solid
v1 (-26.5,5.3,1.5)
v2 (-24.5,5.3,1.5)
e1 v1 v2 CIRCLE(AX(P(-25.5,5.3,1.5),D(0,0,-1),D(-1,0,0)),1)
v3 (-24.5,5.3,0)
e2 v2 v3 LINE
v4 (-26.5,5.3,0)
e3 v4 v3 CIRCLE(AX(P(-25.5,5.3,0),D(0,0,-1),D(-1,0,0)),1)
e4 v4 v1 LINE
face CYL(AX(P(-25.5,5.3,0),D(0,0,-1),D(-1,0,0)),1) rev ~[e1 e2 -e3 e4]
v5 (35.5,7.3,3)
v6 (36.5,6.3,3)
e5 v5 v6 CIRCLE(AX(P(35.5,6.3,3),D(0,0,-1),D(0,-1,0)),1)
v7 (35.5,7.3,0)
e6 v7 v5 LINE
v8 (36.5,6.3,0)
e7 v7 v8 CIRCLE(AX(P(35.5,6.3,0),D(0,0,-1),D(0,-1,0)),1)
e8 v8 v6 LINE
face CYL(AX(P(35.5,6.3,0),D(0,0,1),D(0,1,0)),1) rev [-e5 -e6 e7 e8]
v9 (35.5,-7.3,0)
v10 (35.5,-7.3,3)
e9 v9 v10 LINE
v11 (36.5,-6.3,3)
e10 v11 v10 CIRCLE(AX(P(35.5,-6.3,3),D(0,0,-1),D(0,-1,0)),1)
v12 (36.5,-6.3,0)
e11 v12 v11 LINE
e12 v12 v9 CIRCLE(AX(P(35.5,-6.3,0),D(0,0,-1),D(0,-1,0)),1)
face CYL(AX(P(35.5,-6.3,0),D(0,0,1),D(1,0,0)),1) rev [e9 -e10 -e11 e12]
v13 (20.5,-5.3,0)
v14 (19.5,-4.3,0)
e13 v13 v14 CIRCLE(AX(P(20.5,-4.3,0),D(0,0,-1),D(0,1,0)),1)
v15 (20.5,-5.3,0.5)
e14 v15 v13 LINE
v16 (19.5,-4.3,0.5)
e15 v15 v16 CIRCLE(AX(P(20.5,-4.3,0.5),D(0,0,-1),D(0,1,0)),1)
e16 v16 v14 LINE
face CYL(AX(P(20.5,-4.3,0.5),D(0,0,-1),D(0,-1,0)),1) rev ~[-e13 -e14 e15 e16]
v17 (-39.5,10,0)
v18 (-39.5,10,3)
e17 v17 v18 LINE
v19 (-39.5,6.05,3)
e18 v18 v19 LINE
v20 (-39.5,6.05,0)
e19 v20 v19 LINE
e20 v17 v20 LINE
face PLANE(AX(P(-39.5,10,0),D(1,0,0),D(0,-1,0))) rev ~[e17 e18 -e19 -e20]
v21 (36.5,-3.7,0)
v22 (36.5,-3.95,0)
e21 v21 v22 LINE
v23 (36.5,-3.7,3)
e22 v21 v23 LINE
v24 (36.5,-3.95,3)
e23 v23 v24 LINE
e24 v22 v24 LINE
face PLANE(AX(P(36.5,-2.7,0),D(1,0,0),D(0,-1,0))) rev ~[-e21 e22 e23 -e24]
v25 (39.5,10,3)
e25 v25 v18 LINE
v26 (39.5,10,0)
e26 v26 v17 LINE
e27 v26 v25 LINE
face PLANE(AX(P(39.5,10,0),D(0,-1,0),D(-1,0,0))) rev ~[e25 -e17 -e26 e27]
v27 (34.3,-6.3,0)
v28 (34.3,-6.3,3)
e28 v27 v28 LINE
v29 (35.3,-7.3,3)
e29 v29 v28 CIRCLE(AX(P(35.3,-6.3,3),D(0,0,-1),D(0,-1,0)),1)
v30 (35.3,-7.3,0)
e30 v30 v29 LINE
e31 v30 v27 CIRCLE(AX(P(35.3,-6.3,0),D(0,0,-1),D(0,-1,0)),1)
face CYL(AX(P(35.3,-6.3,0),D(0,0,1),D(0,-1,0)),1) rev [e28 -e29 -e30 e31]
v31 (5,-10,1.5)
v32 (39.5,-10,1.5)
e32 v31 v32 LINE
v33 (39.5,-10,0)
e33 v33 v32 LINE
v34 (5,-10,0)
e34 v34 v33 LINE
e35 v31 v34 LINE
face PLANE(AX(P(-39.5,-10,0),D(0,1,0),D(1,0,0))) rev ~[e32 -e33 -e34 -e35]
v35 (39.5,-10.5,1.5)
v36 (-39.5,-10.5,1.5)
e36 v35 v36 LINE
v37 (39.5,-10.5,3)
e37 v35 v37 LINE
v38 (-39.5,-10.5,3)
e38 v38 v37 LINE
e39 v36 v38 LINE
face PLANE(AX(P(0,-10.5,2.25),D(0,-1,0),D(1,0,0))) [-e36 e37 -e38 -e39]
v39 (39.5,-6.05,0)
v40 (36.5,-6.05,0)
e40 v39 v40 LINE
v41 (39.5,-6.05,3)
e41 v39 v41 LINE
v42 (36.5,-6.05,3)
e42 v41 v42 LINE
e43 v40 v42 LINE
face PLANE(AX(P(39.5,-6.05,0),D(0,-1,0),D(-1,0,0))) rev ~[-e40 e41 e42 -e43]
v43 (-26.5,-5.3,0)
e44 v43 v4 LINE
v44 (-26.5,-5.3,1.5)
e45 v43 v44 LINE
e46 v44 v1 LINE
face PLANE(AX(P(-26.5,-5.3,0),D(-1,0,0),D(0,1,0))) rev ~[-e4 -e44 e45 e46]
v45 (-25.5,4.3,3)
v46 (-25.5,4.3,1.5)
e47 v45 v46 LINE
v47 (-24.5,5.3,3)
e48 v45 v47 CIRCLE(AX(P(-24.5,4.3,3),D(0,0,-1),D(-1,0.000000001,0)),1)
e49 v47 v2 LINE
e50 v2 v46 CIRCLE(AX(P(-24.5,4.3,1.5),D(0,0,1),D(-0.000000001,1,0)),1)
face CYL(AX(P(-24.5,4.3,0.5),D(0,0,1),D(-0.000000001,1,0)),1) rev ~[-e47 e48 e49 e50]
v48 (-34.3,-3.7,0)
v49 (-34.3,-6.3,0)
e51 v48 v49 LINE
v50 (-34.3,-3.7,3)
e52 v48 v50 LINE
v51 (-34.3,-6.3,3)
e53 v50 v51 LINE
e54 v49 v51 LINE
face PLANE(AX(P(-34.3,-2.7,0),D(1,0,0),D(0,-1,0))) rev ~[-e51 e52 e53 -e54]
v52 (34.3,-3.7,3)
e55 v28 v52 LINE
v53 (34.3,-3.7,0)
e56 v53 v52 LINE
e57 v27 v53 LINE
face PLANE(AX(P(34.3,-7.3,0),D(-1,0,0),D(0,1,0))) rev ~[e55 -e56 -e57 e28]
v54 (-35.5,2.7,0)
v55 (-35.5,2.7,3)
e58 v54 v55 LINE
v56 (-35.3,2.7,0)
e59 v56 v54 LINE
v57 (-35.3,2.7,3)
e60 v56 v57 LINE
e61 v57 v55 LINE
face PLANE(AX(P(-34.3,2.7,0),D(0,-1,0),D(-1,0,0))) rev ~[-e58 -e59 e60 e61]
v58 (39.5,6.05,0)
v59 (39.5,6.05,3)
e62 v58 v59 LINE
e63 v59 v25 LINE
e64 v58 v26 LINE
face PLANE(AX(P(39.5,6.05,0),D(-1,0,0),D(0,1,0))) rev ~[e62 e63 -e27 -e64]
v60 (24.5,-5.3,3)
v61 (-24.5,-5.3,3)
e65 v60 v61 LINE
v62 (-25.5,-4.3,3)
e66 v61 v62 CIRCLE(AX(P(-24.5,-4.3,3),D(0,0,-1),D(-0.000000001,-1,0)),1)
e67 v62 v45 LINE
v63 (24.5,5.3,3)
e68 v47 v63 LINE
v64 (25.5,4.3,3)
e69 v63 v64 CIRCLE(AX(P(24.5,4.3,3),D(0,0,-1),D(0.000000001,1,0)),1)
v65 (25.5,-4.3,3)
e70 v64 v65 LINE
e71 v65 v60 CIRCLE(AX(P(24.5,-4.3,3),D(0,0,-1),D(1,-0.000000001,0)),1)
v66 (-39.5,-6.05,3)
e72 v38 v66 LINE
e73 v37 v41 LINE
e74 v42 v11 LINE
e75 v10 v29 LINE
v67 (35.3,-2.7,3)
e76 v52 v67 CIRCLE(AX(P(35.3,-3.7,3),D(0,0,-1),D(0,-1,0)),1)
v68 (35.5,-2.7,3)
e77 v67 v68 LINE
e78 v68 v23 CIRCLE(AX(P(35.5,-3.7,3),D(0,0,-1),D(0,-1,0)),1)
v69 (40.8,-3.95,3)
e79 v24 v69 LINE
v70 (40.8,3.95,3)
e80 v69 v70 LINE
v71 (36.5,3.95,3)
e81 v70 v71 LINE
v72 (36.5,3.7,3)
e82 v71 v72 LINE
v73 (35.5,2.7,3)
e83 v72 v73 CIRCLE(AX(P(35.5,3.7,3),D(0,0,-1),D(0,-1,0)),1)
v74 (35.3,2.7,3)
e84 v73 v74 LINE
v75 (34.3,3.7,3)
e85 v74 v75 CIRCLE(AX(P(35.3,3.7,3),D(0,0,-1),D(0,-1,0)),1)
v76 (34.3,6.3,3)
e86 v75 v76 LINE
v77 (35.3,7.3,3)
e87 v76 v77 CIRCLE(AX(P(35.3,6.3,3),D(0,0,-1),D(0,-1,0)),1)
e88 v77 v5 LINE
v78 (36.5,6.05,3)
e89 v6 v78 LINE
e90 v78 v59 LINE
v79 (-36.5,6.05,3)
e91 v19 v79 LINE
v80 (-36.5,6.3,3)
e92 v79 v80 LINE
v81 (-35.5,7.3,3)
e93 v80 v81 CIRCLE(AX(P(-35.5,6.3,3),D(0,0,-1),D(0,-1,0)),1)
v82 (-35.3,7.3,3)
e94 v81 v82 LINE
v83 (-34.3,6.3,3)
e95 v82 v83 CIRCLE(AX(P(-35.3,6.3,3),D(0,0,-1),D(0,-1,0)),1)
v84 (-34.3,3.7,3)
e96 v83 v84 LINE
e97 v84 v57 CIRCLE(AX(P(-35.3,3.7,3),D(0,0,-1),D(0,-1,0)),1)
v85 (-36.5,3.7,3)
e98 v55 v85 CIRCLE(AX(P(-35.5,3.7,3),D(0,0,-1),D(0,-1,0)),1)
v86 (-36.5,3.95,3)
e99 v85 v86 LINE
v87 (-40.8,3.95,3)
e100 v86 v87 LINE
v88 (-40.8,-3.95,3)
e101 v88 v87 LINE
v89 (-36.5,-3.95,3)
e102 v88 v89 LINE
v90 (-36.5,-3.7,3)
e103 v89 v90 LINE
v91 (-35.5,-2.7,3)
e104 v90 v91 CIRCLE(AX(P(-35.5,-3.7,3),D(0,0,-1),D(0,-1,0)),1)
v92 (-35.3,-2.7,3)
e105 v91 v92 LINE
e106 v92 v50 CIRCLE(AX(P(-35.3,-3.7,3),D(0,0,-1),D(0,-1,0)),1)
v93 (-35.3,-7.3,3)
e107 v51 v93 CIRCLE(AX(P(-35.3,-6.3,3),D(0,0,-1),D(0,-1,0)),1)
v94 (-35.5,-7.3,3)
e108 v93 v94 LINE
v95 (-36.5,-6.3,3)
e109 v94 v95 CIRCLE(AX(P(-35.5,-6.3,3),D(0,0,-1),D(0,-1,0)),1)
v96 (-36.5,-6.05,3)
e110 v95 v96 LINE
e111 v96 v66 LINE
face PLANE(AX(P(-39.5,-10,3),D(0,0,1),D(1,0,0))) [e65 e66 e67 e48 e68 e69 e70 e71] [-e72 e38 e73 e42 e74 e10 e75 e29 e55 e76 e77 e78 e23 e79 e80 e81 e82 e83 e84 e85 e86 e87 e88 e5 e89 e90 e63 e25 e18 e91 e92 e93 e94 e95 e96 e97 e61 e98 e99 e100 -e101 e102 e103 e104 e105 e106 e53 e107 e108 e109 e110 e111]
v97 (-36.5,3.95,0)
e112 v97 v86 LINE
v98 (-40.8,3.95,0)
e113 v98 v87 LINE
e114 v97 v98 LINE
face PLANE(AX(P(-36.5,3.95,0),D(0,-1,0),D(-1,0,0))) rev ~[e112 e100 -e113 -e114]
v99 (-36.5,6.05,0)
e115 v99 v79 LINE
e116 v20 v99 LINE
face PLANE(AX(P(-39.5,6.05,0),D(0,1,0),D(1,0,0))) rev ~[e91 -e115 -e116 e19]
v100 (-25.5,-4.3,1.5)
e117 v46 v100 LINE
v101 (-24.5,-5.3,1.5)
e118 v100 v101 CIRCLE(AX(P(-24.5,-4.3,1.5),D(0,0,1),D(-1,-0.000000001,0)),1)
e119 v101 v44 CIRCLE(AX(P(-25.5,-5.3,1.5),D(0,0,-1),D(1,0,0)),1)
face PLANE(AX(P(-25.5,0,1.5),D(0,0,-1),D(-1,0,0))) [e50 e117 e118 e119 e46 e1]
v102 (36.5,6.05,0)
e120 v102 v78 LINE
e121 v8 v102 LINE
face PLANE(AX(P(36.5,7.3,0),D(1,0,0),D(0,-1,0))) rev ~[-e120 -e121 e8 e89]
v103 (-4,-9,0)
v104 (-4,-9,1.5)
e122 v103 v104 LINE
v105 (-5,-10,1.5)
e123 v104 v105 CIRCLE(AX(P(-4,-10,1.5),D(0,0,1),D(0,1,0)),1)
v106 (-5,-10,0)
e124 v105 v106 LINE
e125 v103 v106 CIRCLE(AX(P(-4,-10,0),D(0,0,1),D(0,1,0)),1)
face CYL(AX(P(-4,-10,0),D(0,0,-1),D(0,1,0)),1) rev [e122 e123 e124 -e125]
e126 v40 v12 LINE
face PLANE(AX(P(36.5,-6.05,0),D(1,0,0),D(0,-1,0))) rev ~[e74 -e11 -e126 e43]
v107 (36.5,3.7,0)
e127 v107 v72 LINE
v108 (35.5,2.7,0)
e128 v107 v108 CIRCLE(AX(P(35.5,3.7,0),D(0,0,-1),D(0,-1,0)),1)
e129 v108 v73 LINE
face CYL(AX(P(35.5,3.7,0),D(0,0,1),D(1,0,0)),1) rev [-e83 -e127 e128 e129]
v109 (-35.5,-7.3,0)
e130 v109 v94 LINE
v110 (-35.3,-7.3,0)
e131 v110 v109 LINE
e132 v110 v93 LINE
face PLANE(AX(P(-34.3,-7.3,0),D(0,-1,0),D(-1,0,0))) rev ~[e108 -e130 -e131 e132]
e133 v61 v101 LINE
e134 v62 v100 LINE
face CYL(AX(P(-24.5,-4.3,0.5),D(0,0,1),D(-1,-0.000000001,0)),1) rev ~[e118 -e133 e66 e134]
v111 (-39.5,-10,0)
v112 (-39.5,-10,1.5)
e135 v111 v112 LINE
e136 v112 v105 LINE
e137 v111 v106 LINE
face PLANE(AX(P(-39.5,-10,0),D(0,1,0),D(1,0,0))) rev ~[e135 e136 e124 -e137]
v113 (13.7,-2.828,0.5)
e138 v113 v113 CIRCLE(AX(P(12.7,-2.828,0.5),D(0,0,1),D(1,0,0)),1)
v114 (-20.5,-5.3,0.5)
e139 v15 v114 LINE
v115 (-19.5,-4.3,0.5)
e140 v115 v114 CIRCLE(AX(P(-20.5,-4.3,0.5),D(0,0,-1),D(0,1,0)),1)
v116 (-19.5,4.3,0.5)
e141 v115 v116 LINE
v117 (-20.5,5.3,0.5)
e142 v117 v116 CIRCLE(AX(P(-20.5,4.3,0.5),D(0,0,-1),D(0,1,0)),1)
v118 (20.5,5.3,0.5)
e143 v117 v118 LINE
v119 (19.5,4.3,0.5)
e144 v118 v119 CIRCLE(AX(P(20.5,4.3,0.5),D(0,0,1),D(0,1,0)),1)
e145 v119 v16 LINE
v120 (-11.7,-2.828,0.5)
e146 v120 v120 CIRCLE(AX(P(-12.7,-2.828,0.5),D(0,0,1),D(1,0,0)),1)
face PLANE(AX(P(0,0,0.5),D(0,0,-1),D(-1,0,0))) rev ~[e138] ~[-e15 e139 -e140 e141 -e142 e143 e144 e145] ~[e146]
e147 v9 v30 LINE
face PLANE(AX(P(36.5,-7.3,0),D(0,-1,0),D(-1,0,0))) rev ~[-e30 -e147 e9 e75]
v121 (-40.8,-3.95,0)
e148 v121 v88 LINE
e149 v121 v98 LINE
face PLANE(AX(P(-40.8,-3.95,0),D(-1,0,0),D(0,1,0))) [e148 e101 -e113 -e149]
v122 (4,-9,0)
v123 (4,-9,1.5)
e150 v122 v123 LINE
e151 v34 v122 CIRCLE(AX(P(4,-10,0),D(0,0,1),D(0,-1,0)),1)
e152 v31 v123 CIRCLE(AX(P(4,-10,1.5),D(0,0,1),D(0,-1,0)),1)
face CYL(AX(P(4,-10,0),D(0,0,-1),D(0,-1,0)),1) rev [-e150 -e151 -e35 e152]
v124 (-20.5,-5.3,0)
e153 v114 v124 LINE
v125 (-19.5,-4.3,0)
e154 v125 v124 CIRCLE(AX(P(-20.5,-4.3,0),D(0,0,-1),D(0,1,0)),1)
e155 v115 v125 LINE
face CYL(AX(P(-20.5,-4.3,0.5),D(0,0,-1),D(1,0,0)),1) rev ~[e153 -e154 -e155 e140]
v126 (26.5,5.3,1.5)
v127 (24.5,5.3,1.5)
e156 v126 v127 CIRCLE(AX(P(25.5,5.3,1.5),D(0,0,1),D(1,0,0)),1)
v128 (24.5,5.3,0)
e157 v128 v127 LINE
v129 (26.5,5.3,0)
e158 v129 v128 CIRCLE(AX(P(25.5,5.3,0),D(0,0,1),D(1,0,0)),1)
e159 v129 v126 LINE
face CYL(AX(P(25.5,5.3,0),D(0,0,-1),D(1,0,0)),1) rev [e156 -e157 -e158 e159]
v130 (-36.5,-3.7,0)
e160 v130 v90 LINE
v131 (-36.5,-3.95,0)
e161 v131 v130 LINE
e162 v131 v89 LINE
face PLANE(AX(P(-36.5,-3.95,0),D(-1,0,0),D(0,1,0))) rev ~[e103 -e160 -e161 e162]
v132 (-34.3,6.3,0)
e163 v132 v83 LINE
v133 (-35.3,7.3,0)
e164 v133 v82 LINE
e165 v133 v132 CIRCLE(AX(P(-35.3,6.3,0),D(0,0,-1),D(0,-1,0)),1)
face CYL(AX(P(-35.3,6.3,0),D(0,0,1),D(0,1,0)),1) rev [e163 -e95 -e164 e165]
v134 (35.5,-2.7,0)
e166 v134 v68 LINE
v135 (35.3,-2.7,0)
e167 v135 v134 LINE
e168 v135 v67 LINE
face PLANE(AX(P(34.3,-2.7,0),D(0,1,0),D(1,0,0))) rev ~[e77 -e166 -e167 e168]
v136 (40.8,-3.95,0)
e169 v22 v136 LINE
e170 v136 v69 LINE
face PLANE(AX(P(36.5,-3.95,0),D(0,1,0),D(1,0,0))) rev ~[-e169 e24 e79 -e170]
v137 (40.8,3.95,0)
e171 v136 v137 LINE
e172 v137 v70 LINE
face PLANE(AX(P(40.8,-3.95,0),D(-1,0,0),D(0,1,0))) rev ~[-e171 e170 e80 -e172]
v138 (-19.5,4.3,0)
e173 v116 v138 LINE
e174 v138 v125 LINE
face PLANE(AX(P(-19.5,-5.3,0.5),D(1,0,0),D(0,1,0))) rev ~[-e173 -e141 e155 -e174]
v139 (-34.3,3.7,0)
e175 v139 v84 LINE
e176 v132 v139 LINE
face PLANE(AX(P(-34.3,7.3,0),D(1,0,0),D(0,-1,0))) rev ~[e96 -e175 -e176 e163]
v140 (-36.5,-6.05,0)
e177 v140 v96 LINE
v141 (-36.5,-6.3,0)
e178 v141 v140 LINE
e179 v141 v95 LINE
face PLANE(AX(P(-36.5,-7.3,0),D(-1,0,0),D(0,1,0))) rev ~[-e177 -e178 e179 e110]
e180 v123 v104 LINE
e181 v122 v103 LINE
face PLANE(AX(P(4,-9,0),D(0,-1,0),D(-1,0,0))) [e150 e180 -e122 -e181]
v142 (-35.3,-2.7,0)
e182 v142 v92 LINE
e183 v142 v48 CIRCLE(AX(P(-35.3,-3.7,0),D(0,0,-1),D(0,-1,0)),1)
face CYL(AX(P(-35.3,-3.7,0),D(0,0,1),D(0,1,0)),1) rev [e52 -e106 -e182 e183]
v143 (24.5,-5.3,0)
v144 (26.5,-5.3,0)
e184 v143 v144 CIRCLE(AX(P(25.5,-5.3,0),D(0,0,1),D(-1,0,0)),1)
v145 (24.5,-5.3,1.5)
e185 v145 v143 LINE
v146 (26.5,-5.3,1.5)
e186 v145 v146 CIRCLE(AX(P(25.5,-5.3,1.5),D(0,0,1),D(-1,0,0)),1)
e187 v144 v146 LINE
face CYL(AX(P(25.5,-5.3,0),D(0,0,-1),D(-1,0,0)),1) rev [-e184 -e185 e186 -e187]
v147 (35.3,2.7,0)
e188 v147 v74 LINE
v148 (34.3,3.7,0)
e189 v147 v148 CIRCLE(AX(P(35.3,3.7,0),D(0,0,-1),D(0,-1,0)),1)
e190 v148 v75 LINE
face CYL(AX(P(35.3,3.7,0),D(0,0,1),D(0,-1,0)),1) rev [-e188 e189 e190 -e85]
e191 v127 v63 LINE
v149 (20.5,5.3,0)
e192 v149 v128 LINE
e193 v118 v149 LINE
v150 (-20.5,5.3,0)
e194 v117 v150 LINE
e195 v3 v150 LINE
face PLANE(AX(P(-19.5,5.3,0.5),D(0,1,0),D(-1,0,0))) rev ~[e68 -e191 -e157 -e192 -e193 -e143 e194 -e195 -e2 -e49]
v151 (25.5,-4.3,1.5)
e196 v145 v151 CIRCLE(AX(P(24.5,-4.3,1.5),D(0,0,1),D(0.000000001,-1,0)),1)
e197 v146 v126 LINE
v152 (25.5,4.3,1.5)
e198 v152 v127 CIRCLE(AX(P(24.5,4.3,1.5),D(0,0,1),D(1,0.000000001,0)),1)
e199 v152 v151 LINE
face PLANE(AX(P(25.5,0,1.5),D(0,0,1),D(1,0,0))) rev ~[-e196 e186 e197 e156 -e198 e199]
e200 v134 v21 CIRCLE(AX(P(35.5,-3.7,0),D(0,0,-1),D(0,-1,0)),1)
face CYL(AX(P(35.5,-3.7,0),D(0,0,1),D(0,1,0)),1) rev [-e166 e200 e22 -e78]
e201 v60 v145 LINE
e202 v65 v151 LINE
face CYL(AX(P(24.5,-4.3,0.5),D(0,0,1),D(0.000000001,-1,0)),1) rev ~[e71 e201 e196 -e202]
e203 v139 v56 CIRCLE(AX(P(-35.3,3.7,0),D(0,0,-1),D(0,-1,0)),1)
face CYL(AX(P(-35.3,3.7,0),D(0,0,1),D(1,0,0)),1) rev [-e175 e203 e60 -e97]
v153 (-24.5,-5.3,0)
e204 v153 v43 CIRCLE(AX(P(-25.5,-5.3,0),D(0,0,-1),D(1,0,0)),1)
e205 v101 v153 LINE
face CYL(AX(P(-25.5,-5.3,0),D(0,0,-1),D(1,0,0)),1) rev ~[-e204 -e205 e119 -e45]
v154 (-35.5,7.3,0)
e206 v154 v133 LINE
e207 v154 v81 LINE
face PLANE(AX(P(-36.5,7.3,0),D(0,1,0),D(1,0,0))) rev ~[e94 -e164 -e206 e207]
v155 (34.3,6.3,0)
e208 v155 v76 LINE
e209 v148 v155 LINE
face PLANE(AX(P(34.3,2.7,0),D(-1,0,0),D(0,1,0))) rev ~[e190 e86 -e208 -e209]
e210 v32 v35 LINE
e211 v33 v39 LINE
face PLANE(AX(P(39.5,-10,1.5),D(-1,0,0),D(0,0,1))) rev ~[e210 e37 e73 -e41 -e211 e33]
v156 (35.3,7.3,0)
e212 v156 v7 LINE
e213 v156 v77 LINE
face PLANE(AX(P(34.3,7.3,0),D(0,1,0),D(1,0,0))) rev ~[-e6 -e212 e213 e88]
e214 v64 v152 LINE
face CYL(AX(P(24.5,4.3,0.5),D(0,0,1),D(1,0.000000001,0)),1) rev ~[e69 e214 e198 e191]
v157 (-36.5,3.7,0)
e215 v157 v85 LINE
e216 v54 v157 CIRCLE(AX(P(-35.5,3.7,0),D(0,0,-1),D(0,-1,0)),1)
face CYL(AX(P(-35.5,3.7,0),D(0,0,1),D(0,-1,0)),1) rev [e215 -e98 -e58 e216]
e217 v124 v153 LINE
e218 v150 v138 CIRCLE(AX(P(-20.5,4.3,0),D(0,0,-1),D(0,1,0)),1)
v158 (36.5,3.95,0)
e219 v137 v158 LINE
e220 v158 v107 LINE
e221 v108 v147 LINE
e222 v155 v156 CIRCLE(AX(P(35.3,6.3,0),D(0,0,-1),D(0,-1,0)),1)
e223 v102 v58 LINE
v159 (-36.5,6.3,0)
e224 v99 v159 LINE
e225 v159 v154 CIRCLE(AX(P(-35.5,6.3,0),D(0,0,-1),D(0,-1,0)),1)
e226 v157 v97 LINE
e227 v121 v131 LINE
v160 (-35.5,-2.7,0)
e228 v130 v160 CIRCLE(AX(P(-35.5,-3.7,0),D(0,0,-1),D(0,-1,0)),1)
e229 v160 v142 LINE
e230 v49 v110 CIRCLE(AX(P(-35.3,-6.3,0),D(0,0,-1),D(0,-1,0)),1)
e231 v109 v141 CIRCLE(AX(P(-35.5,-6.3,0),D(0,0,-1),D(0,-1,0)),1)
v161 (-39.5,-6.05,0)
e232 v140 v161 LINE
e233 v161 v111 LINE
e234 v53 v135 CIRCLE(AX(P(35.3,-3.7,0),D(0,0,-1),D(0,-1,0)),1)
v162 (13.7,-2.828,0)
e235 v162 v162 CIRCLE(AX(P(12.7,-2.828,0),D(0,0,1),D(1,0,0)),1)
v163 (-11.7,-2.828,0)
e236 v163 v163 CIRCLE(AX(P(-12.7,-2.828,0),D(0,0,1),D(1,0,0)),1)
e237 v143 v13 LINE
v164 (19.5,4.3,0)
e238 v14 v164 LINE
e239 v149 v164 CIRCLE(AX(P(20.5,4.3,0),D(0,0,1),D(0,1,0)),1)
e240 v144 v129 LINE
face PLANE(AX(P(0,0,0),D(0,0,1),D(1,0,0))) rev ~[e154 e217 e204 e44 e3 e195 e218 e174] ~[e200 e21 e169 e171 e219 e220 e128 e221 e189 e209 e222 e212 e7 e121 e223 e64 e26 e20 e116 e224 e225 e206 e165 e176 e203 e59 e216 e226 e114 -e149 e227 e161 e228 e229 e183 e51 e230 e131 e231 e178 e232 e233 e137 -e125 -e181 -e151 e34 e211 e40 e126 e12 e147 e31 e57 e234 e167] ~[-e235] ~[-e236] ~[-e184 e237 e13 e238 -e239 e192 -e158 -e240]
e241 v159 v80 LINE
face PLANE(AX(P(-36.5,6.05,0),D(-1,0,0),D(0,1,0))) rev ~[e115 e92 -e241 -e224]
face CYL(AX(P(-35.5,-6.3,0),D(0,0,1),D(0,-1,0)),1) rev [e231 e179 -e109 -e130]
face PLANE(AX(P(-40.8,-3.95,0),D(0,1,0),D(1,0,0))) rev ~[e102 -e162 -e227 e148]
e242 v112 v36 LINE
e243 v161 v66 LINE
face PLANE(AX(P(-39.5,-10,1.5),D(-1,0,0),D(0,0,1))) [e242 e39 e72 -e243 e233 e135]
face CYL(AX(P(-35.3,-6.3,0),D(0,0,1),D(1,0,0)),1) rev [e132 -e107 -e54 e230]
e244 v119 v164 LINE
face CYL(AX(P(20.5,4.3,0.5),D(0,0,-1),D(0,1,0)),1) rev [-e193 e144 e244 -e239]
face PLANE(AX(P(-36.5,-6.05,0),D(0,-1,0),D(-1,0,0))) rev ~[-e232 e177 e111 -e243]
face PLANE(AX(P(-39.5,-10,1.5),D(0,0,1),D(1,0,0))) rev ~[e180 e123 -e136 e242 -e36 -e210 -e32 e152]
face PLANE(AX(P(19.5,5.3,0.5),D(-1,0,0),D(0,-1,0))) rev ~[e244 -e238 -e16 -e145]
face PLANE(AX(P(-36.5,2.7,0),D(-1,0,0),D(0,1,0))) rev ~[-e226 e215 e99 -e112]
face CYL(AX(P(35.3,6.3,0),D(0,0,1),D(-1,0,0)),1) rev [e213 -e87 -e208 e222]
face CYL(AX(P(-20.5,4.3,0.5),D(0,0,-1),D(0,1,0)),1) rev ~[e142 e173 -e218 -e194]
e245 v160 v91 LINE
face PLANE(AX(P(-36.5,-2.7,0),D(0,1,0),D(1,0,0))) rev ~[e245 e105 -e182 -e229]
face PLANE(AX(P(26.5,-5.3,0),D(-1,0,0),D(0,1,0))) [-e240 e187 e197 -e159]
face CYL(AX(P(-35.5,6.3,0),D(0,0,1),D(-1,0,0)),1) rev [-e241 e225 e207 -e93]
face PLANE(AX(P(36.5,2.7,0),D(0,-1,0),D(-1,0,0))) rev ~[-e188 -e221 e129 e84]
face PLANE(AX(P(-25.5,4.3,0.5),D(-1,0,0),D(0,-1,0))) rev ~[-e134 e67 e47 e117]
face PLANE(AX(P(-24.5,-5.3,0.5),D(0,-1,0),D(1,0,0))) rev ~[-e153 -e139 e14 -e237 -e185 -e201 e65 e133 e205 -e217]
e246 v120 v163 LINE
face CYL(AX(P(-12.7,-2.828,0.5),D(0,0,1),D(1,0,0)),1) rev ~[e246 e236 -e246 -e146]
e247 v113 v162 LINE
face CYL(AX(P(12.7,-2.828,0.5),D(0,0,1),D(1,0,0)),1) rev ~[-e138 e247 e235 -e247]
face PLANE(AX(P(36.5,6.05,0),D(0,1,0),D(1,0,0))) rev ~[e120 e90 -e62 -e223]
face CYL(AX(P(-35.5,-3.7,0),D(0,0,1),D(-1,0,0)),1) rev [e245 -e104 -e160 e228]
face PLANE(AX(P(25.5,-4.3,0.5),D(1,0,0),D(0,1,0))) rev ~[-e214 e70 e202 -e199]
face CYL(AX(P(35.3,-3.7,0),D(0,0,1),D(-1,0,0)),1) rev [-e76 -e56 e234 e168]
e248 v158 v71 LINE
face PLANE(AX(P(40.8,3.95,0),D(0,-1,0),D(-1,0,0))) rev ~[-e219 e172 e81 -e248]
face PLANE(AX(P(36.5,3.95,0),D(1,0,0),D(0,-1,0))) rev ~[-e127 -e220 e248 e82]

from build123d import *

# Parameters (mm, degrees)
SKETCH1_W                          = 1.3
SKETCH1_H                          = 7.9
BASE_SHAPE_DEPTH                   = 3
SKETCH4_W                          = 79
SKETCH4_H                          = 1.5
FLOOR_LIP_DEPTH                    = 0.5
NAIL_CUTOUT_DEPTH                  = 1.5
MILL_FILLETS_R                     = 1
LED_STRIP_POCKET_DEPTH             = 2.5
LED_STRIP_CUTS_REACH               = 2.5
SKETCH9_R                          = 1
LED_STRIP_CUT_FILLETS_R            = 1
LED_PCB_PADS_CLEARANCE_SLOTS_DEPTH = 1.5


with BuildPart() as part:
    # Sketch1 → Base shape (new body)
    with BuildSketch(Plane.XY):
        Polygon((39.5, 10), (-39.5, 10), (-39.5, 6.05), (-36.5, 6.05), (-36.5, 7.3), (-34.3, 7.3), (-34.3, 2.7), (-36.5, 2.7), (-36.5, 3.95), (-39.5, 3.95), (-39.5, -3.95), (-36.5, -3.95), (-36.5, -2.7), (-34.3, -2.7), (-34.3, -7.3), (-36.5, -7.3), (-36.5, -6.05), (-39.5, -6.05), (-39.5, -10), (39.5, -10), (39.5, -6.05), (36.5, -6.05), (36.5, -7.3), (34.3, -7.3), (34.3, -2.7), (36.5, -2.7), (36.5, -3.95), (39.5, -3.95), (39.5, 3.95), (36.5, 3.95), (36.5, 2.7), (34.3, 2.7), (34.3, 7.3), (36.5, 7.3), (36.5, 6.05), (39.5, 6.05), align=None)
        with Locations((-40.15, 0)):
            Rectangle(SKETCH1_W, SKETCH1_H)
        with Locations((40.15, 0)):
            Rectangle(SKETCH1_W, SKETCH1_H)
    extrude(amount=BASE_SHAPE_DEPTH)

    # Sketch4 → Floor lip (add)
    with BuildSketch(Plane.XZ.offset(10)):
        with Locations((0, 2.25)):
            Rectangle(SKETCH4_W, SKETCH4_H)
    extrude(amount=FLOOR_LIP_DEPTH)

    # Sketch6 → Nail cutout (cut)
    with BuildSketch(Plane(origin=(0, 0, 0), x_dir=(-1, 0, 0), z_dir=(0, 0, -1))):
        with BuildLine():
            Line((-4, -9), (4, -9))
            ThreePointArc((4, -9), (5, -10), (4, -11))
            Line((4, -11), (-4, -11))
            ThreePointArc((-4, -11), (-5, -10), (-4, -9))
        make_face()
    extrude(amount=-NAIL_CUTOUT_DEPTH, mode=Mode.SUBTRACT)

    # Mill fillets
    mill_fillets_edges = [part.edges().sort_by_distance(p)[0] for p in [
        (36.5, -2.7, 1.5),
        (34.3, -2.7, 1.5),
        (34.3, -7.3, 1.5),
        (36.5, -7.3, 1.5),
        (-36.5, -7.3, 1.5),
        (-34.3, -7.3, 1.5),
        (-34.3, -2.7, 1.5),
        (-36.5, -2.7, 1.5),
        (-36.5, 2.7, 1.5),
        (-34.3, 2.7, 1.5),
        (-34.3, 7.3, 1.5),
        (-36.5, 7.3, 1.5),
        (36.5, 7.3, 1.5),
        (34.3, 7.3, 1.5),
        (34.3, 2.7, 1.5),
        (36.5, 2.7, 1.5),
    ]]
    fillet(mill_fillets_edges, radius=MILL_FILLETS_R)

    # Sketch8 → Led strip pocket (cut)
    with BuildSketch(Plane.XY.offset(3)):
        with BuildLine():
            Line((-24.5, 5.3), (24.5, 5.3))
            ThreePointArc((24.5, 5.3), (25.207106781, 5.007106781), (25.5, 4.3))
            Line((25.5, 4.3), (25.5, -4.3))
            ThreePointArc((25.5, -4.3), (25.207106781, -5.007106781), (24.5, -5.3))
            Line((24.5, -5.3), (-24.5, -5.3))
            ThreePointArc((-24.5, -5.3), (-25.207106781, -5.007106781), (-25.5, -4.3))
            Line((-25.5, -4.3), (-25.5, 4.3))
            ThreePointArc((-25.5, 4.3), (-25.207106781, 5.007106781), (-24.5, 5.3))
        make_face()
    extrude(amount=-LED_STRIP_POCKET_DEPTH, mode=Mode.SUBTRACT)

    # Sketch9 → Led strip cuts (cut, up to next)
    with BuildSketch(Plane.XY.offset(0.5), mode=Mode.PRIVATE) as led_strip_cuts_sk1:
        with BuildLine():
            Line((-19.5, -5.3), (-19.5, 5.3))
            Line((-19.5, 5.3), (-24.5, 5.3))
            ThreePointArc((-24.5, 5.3), (-25.207106781, 5.007106781), (-25.5, 4.3))
            Line((-25.5, 4.3), (-25.5, -4.3))
            ThreePointArc((-25.5, -4.3), (-25.207106781, -5.007106781), (-24.5, -5.3))
            Line((-24.5, -5.3), (-19.5, -5.3))
        make_face()
    led_strip_cuts_tool1 = extrude(led_strip_cuts_sk1.sketch, amount=-LED_STRIP_CUTS_REACH, mode=Mode.PRIVATE) & part.part
    add(led_strip_cuts_tool1.solids().sort_by_distance((-22.481135, 0, 0.5))[0], mode=Mode.SUBTRACT)
    # Sketch9 → Led strip cuts (cut, up to next)
    with BuildSketch(Plane.XY.offset(0.5), mode=Mode.PRIVATE) as led_strip_cuts_sk2:
        with BuildLine():
            Line((24.5, 5.3), (19.5, 5.3))
            Line((19.5, 5.3), (19.5, -5.3))
            Line((19.5, -5.3), (24.5, -5.3))
            ThreePointArc((24.5, -5.3), (25.207106781, -5.007106781), (25.5, -4.3))
            Line((25.5, -4.3), (25.5, 4.3))
            ThreePointArc((25.5, 4.3), (25.207106781, 5.007106781), (24.5, 5.3))
        make_face()
    led_strip_cuts_tool2 = extrude(led_strip_cuts_sk2.sketch, amount=-LED_STRIP_CUTS_REACH, mode=Mode.PRIVATE) & part.part
    add(led_strip_cuts_tool2.solids().sort_by_distance((22.481135, 0, 0.5))[0], mode=Mode.SUBTRACT)
    # Sketch9 → Led strip cuts (cut, up to next)
    with BuildSketch(Plane.XY.offset(0.5), mode=Mode.PRIVATE) as led_strip_cuts_sk3:
        with Locations((-12.7, -2.828)):
            Circle(SKETCH9_R)
    led_strip_cuts_tool3 = extrude(led_strip_cuts_sk3.sketch, amount=-LED_STRIP_CUTS_REACH, mode=Mode.PRIVATE) & part.part
    add(led_strip_cuts_tool3.solids().sort_by_distance((-12.7, -2.828, 0.5))[0], mode=Mode.SUBTRACT)
    # Sketch9 → Led strip cuts (cut, up to next)
    with BuildSketch(Plane.XY.offset(0.5), mode=Mode.PRIVATE) as led_strip_cuts_sk4:
        with Locations((12.7, -2.828)):
            Circle(SKETCH9_R)
    led_strip_cuts_tool4 = extrude(led_strip_cuts_sk4.sketch, amount=-LED_STRIP_CUTS_REACH, mode=Mode.PRIVATE) & part.part
    add(led_strip_cuts_tool4.solids().sort_by_distance((12.7, -2.828, 0.5))[0], mode=Mode.SUBTRACT)

    # Led strip cut fillets
    led_strip_cut_fillets_edges = [part.edges().sort_by_distance(p)[0] for p in [
        (-19.5, 5.3, 0.25),
        (-19.5, -5.3, 0.25),
        (19.5, 5.3, 0.25),
        (19.5, -5.3, 0.25),
    ]]
    fillet(led_strip_cut_fillets_edges, radius=LED_STRIP_CUT_FILLETS_R)

    # Sketch23 → LED PCB pads clearance slots (cut)
    with BuildSketch(Plane(origin=(0, 0, 0), x_dir=(-1, 0, 0), z_dir=(0, 0, -1))):
        with BuildLine():
            Line((-26.5, -5.3), (-26.5, 5.3))
            ThreePointArc((-26.5, 5.3), (-25.5, 6.3), (-24.5, 5.3))
            Line((-24.5, 5.3), (-24.5, -5.3))
            ThreePointArc((-24.5, -5.3), (-25.5, -6.3), (-26.5, -5.3))
        make_face()
        with BuildLine():
            Line((26.5, -5.3), (26.5, 5.3))
            ThreePointArc((26.5, 5.3), (25.5, 6.3), (24.5, 5.3))
            Line((24.5, 5.3), (24.5, -5.3))
            ThreePointArc((24.5, -5.3), (25.5, -6.3), (26.5, -5.3))
        make_face()
    extrude(amount=-LED_PCB_PADS_CLEARANCE_SLOTS_DEPTH, mode=Mode.SUBTRACT)


solid = part.part
